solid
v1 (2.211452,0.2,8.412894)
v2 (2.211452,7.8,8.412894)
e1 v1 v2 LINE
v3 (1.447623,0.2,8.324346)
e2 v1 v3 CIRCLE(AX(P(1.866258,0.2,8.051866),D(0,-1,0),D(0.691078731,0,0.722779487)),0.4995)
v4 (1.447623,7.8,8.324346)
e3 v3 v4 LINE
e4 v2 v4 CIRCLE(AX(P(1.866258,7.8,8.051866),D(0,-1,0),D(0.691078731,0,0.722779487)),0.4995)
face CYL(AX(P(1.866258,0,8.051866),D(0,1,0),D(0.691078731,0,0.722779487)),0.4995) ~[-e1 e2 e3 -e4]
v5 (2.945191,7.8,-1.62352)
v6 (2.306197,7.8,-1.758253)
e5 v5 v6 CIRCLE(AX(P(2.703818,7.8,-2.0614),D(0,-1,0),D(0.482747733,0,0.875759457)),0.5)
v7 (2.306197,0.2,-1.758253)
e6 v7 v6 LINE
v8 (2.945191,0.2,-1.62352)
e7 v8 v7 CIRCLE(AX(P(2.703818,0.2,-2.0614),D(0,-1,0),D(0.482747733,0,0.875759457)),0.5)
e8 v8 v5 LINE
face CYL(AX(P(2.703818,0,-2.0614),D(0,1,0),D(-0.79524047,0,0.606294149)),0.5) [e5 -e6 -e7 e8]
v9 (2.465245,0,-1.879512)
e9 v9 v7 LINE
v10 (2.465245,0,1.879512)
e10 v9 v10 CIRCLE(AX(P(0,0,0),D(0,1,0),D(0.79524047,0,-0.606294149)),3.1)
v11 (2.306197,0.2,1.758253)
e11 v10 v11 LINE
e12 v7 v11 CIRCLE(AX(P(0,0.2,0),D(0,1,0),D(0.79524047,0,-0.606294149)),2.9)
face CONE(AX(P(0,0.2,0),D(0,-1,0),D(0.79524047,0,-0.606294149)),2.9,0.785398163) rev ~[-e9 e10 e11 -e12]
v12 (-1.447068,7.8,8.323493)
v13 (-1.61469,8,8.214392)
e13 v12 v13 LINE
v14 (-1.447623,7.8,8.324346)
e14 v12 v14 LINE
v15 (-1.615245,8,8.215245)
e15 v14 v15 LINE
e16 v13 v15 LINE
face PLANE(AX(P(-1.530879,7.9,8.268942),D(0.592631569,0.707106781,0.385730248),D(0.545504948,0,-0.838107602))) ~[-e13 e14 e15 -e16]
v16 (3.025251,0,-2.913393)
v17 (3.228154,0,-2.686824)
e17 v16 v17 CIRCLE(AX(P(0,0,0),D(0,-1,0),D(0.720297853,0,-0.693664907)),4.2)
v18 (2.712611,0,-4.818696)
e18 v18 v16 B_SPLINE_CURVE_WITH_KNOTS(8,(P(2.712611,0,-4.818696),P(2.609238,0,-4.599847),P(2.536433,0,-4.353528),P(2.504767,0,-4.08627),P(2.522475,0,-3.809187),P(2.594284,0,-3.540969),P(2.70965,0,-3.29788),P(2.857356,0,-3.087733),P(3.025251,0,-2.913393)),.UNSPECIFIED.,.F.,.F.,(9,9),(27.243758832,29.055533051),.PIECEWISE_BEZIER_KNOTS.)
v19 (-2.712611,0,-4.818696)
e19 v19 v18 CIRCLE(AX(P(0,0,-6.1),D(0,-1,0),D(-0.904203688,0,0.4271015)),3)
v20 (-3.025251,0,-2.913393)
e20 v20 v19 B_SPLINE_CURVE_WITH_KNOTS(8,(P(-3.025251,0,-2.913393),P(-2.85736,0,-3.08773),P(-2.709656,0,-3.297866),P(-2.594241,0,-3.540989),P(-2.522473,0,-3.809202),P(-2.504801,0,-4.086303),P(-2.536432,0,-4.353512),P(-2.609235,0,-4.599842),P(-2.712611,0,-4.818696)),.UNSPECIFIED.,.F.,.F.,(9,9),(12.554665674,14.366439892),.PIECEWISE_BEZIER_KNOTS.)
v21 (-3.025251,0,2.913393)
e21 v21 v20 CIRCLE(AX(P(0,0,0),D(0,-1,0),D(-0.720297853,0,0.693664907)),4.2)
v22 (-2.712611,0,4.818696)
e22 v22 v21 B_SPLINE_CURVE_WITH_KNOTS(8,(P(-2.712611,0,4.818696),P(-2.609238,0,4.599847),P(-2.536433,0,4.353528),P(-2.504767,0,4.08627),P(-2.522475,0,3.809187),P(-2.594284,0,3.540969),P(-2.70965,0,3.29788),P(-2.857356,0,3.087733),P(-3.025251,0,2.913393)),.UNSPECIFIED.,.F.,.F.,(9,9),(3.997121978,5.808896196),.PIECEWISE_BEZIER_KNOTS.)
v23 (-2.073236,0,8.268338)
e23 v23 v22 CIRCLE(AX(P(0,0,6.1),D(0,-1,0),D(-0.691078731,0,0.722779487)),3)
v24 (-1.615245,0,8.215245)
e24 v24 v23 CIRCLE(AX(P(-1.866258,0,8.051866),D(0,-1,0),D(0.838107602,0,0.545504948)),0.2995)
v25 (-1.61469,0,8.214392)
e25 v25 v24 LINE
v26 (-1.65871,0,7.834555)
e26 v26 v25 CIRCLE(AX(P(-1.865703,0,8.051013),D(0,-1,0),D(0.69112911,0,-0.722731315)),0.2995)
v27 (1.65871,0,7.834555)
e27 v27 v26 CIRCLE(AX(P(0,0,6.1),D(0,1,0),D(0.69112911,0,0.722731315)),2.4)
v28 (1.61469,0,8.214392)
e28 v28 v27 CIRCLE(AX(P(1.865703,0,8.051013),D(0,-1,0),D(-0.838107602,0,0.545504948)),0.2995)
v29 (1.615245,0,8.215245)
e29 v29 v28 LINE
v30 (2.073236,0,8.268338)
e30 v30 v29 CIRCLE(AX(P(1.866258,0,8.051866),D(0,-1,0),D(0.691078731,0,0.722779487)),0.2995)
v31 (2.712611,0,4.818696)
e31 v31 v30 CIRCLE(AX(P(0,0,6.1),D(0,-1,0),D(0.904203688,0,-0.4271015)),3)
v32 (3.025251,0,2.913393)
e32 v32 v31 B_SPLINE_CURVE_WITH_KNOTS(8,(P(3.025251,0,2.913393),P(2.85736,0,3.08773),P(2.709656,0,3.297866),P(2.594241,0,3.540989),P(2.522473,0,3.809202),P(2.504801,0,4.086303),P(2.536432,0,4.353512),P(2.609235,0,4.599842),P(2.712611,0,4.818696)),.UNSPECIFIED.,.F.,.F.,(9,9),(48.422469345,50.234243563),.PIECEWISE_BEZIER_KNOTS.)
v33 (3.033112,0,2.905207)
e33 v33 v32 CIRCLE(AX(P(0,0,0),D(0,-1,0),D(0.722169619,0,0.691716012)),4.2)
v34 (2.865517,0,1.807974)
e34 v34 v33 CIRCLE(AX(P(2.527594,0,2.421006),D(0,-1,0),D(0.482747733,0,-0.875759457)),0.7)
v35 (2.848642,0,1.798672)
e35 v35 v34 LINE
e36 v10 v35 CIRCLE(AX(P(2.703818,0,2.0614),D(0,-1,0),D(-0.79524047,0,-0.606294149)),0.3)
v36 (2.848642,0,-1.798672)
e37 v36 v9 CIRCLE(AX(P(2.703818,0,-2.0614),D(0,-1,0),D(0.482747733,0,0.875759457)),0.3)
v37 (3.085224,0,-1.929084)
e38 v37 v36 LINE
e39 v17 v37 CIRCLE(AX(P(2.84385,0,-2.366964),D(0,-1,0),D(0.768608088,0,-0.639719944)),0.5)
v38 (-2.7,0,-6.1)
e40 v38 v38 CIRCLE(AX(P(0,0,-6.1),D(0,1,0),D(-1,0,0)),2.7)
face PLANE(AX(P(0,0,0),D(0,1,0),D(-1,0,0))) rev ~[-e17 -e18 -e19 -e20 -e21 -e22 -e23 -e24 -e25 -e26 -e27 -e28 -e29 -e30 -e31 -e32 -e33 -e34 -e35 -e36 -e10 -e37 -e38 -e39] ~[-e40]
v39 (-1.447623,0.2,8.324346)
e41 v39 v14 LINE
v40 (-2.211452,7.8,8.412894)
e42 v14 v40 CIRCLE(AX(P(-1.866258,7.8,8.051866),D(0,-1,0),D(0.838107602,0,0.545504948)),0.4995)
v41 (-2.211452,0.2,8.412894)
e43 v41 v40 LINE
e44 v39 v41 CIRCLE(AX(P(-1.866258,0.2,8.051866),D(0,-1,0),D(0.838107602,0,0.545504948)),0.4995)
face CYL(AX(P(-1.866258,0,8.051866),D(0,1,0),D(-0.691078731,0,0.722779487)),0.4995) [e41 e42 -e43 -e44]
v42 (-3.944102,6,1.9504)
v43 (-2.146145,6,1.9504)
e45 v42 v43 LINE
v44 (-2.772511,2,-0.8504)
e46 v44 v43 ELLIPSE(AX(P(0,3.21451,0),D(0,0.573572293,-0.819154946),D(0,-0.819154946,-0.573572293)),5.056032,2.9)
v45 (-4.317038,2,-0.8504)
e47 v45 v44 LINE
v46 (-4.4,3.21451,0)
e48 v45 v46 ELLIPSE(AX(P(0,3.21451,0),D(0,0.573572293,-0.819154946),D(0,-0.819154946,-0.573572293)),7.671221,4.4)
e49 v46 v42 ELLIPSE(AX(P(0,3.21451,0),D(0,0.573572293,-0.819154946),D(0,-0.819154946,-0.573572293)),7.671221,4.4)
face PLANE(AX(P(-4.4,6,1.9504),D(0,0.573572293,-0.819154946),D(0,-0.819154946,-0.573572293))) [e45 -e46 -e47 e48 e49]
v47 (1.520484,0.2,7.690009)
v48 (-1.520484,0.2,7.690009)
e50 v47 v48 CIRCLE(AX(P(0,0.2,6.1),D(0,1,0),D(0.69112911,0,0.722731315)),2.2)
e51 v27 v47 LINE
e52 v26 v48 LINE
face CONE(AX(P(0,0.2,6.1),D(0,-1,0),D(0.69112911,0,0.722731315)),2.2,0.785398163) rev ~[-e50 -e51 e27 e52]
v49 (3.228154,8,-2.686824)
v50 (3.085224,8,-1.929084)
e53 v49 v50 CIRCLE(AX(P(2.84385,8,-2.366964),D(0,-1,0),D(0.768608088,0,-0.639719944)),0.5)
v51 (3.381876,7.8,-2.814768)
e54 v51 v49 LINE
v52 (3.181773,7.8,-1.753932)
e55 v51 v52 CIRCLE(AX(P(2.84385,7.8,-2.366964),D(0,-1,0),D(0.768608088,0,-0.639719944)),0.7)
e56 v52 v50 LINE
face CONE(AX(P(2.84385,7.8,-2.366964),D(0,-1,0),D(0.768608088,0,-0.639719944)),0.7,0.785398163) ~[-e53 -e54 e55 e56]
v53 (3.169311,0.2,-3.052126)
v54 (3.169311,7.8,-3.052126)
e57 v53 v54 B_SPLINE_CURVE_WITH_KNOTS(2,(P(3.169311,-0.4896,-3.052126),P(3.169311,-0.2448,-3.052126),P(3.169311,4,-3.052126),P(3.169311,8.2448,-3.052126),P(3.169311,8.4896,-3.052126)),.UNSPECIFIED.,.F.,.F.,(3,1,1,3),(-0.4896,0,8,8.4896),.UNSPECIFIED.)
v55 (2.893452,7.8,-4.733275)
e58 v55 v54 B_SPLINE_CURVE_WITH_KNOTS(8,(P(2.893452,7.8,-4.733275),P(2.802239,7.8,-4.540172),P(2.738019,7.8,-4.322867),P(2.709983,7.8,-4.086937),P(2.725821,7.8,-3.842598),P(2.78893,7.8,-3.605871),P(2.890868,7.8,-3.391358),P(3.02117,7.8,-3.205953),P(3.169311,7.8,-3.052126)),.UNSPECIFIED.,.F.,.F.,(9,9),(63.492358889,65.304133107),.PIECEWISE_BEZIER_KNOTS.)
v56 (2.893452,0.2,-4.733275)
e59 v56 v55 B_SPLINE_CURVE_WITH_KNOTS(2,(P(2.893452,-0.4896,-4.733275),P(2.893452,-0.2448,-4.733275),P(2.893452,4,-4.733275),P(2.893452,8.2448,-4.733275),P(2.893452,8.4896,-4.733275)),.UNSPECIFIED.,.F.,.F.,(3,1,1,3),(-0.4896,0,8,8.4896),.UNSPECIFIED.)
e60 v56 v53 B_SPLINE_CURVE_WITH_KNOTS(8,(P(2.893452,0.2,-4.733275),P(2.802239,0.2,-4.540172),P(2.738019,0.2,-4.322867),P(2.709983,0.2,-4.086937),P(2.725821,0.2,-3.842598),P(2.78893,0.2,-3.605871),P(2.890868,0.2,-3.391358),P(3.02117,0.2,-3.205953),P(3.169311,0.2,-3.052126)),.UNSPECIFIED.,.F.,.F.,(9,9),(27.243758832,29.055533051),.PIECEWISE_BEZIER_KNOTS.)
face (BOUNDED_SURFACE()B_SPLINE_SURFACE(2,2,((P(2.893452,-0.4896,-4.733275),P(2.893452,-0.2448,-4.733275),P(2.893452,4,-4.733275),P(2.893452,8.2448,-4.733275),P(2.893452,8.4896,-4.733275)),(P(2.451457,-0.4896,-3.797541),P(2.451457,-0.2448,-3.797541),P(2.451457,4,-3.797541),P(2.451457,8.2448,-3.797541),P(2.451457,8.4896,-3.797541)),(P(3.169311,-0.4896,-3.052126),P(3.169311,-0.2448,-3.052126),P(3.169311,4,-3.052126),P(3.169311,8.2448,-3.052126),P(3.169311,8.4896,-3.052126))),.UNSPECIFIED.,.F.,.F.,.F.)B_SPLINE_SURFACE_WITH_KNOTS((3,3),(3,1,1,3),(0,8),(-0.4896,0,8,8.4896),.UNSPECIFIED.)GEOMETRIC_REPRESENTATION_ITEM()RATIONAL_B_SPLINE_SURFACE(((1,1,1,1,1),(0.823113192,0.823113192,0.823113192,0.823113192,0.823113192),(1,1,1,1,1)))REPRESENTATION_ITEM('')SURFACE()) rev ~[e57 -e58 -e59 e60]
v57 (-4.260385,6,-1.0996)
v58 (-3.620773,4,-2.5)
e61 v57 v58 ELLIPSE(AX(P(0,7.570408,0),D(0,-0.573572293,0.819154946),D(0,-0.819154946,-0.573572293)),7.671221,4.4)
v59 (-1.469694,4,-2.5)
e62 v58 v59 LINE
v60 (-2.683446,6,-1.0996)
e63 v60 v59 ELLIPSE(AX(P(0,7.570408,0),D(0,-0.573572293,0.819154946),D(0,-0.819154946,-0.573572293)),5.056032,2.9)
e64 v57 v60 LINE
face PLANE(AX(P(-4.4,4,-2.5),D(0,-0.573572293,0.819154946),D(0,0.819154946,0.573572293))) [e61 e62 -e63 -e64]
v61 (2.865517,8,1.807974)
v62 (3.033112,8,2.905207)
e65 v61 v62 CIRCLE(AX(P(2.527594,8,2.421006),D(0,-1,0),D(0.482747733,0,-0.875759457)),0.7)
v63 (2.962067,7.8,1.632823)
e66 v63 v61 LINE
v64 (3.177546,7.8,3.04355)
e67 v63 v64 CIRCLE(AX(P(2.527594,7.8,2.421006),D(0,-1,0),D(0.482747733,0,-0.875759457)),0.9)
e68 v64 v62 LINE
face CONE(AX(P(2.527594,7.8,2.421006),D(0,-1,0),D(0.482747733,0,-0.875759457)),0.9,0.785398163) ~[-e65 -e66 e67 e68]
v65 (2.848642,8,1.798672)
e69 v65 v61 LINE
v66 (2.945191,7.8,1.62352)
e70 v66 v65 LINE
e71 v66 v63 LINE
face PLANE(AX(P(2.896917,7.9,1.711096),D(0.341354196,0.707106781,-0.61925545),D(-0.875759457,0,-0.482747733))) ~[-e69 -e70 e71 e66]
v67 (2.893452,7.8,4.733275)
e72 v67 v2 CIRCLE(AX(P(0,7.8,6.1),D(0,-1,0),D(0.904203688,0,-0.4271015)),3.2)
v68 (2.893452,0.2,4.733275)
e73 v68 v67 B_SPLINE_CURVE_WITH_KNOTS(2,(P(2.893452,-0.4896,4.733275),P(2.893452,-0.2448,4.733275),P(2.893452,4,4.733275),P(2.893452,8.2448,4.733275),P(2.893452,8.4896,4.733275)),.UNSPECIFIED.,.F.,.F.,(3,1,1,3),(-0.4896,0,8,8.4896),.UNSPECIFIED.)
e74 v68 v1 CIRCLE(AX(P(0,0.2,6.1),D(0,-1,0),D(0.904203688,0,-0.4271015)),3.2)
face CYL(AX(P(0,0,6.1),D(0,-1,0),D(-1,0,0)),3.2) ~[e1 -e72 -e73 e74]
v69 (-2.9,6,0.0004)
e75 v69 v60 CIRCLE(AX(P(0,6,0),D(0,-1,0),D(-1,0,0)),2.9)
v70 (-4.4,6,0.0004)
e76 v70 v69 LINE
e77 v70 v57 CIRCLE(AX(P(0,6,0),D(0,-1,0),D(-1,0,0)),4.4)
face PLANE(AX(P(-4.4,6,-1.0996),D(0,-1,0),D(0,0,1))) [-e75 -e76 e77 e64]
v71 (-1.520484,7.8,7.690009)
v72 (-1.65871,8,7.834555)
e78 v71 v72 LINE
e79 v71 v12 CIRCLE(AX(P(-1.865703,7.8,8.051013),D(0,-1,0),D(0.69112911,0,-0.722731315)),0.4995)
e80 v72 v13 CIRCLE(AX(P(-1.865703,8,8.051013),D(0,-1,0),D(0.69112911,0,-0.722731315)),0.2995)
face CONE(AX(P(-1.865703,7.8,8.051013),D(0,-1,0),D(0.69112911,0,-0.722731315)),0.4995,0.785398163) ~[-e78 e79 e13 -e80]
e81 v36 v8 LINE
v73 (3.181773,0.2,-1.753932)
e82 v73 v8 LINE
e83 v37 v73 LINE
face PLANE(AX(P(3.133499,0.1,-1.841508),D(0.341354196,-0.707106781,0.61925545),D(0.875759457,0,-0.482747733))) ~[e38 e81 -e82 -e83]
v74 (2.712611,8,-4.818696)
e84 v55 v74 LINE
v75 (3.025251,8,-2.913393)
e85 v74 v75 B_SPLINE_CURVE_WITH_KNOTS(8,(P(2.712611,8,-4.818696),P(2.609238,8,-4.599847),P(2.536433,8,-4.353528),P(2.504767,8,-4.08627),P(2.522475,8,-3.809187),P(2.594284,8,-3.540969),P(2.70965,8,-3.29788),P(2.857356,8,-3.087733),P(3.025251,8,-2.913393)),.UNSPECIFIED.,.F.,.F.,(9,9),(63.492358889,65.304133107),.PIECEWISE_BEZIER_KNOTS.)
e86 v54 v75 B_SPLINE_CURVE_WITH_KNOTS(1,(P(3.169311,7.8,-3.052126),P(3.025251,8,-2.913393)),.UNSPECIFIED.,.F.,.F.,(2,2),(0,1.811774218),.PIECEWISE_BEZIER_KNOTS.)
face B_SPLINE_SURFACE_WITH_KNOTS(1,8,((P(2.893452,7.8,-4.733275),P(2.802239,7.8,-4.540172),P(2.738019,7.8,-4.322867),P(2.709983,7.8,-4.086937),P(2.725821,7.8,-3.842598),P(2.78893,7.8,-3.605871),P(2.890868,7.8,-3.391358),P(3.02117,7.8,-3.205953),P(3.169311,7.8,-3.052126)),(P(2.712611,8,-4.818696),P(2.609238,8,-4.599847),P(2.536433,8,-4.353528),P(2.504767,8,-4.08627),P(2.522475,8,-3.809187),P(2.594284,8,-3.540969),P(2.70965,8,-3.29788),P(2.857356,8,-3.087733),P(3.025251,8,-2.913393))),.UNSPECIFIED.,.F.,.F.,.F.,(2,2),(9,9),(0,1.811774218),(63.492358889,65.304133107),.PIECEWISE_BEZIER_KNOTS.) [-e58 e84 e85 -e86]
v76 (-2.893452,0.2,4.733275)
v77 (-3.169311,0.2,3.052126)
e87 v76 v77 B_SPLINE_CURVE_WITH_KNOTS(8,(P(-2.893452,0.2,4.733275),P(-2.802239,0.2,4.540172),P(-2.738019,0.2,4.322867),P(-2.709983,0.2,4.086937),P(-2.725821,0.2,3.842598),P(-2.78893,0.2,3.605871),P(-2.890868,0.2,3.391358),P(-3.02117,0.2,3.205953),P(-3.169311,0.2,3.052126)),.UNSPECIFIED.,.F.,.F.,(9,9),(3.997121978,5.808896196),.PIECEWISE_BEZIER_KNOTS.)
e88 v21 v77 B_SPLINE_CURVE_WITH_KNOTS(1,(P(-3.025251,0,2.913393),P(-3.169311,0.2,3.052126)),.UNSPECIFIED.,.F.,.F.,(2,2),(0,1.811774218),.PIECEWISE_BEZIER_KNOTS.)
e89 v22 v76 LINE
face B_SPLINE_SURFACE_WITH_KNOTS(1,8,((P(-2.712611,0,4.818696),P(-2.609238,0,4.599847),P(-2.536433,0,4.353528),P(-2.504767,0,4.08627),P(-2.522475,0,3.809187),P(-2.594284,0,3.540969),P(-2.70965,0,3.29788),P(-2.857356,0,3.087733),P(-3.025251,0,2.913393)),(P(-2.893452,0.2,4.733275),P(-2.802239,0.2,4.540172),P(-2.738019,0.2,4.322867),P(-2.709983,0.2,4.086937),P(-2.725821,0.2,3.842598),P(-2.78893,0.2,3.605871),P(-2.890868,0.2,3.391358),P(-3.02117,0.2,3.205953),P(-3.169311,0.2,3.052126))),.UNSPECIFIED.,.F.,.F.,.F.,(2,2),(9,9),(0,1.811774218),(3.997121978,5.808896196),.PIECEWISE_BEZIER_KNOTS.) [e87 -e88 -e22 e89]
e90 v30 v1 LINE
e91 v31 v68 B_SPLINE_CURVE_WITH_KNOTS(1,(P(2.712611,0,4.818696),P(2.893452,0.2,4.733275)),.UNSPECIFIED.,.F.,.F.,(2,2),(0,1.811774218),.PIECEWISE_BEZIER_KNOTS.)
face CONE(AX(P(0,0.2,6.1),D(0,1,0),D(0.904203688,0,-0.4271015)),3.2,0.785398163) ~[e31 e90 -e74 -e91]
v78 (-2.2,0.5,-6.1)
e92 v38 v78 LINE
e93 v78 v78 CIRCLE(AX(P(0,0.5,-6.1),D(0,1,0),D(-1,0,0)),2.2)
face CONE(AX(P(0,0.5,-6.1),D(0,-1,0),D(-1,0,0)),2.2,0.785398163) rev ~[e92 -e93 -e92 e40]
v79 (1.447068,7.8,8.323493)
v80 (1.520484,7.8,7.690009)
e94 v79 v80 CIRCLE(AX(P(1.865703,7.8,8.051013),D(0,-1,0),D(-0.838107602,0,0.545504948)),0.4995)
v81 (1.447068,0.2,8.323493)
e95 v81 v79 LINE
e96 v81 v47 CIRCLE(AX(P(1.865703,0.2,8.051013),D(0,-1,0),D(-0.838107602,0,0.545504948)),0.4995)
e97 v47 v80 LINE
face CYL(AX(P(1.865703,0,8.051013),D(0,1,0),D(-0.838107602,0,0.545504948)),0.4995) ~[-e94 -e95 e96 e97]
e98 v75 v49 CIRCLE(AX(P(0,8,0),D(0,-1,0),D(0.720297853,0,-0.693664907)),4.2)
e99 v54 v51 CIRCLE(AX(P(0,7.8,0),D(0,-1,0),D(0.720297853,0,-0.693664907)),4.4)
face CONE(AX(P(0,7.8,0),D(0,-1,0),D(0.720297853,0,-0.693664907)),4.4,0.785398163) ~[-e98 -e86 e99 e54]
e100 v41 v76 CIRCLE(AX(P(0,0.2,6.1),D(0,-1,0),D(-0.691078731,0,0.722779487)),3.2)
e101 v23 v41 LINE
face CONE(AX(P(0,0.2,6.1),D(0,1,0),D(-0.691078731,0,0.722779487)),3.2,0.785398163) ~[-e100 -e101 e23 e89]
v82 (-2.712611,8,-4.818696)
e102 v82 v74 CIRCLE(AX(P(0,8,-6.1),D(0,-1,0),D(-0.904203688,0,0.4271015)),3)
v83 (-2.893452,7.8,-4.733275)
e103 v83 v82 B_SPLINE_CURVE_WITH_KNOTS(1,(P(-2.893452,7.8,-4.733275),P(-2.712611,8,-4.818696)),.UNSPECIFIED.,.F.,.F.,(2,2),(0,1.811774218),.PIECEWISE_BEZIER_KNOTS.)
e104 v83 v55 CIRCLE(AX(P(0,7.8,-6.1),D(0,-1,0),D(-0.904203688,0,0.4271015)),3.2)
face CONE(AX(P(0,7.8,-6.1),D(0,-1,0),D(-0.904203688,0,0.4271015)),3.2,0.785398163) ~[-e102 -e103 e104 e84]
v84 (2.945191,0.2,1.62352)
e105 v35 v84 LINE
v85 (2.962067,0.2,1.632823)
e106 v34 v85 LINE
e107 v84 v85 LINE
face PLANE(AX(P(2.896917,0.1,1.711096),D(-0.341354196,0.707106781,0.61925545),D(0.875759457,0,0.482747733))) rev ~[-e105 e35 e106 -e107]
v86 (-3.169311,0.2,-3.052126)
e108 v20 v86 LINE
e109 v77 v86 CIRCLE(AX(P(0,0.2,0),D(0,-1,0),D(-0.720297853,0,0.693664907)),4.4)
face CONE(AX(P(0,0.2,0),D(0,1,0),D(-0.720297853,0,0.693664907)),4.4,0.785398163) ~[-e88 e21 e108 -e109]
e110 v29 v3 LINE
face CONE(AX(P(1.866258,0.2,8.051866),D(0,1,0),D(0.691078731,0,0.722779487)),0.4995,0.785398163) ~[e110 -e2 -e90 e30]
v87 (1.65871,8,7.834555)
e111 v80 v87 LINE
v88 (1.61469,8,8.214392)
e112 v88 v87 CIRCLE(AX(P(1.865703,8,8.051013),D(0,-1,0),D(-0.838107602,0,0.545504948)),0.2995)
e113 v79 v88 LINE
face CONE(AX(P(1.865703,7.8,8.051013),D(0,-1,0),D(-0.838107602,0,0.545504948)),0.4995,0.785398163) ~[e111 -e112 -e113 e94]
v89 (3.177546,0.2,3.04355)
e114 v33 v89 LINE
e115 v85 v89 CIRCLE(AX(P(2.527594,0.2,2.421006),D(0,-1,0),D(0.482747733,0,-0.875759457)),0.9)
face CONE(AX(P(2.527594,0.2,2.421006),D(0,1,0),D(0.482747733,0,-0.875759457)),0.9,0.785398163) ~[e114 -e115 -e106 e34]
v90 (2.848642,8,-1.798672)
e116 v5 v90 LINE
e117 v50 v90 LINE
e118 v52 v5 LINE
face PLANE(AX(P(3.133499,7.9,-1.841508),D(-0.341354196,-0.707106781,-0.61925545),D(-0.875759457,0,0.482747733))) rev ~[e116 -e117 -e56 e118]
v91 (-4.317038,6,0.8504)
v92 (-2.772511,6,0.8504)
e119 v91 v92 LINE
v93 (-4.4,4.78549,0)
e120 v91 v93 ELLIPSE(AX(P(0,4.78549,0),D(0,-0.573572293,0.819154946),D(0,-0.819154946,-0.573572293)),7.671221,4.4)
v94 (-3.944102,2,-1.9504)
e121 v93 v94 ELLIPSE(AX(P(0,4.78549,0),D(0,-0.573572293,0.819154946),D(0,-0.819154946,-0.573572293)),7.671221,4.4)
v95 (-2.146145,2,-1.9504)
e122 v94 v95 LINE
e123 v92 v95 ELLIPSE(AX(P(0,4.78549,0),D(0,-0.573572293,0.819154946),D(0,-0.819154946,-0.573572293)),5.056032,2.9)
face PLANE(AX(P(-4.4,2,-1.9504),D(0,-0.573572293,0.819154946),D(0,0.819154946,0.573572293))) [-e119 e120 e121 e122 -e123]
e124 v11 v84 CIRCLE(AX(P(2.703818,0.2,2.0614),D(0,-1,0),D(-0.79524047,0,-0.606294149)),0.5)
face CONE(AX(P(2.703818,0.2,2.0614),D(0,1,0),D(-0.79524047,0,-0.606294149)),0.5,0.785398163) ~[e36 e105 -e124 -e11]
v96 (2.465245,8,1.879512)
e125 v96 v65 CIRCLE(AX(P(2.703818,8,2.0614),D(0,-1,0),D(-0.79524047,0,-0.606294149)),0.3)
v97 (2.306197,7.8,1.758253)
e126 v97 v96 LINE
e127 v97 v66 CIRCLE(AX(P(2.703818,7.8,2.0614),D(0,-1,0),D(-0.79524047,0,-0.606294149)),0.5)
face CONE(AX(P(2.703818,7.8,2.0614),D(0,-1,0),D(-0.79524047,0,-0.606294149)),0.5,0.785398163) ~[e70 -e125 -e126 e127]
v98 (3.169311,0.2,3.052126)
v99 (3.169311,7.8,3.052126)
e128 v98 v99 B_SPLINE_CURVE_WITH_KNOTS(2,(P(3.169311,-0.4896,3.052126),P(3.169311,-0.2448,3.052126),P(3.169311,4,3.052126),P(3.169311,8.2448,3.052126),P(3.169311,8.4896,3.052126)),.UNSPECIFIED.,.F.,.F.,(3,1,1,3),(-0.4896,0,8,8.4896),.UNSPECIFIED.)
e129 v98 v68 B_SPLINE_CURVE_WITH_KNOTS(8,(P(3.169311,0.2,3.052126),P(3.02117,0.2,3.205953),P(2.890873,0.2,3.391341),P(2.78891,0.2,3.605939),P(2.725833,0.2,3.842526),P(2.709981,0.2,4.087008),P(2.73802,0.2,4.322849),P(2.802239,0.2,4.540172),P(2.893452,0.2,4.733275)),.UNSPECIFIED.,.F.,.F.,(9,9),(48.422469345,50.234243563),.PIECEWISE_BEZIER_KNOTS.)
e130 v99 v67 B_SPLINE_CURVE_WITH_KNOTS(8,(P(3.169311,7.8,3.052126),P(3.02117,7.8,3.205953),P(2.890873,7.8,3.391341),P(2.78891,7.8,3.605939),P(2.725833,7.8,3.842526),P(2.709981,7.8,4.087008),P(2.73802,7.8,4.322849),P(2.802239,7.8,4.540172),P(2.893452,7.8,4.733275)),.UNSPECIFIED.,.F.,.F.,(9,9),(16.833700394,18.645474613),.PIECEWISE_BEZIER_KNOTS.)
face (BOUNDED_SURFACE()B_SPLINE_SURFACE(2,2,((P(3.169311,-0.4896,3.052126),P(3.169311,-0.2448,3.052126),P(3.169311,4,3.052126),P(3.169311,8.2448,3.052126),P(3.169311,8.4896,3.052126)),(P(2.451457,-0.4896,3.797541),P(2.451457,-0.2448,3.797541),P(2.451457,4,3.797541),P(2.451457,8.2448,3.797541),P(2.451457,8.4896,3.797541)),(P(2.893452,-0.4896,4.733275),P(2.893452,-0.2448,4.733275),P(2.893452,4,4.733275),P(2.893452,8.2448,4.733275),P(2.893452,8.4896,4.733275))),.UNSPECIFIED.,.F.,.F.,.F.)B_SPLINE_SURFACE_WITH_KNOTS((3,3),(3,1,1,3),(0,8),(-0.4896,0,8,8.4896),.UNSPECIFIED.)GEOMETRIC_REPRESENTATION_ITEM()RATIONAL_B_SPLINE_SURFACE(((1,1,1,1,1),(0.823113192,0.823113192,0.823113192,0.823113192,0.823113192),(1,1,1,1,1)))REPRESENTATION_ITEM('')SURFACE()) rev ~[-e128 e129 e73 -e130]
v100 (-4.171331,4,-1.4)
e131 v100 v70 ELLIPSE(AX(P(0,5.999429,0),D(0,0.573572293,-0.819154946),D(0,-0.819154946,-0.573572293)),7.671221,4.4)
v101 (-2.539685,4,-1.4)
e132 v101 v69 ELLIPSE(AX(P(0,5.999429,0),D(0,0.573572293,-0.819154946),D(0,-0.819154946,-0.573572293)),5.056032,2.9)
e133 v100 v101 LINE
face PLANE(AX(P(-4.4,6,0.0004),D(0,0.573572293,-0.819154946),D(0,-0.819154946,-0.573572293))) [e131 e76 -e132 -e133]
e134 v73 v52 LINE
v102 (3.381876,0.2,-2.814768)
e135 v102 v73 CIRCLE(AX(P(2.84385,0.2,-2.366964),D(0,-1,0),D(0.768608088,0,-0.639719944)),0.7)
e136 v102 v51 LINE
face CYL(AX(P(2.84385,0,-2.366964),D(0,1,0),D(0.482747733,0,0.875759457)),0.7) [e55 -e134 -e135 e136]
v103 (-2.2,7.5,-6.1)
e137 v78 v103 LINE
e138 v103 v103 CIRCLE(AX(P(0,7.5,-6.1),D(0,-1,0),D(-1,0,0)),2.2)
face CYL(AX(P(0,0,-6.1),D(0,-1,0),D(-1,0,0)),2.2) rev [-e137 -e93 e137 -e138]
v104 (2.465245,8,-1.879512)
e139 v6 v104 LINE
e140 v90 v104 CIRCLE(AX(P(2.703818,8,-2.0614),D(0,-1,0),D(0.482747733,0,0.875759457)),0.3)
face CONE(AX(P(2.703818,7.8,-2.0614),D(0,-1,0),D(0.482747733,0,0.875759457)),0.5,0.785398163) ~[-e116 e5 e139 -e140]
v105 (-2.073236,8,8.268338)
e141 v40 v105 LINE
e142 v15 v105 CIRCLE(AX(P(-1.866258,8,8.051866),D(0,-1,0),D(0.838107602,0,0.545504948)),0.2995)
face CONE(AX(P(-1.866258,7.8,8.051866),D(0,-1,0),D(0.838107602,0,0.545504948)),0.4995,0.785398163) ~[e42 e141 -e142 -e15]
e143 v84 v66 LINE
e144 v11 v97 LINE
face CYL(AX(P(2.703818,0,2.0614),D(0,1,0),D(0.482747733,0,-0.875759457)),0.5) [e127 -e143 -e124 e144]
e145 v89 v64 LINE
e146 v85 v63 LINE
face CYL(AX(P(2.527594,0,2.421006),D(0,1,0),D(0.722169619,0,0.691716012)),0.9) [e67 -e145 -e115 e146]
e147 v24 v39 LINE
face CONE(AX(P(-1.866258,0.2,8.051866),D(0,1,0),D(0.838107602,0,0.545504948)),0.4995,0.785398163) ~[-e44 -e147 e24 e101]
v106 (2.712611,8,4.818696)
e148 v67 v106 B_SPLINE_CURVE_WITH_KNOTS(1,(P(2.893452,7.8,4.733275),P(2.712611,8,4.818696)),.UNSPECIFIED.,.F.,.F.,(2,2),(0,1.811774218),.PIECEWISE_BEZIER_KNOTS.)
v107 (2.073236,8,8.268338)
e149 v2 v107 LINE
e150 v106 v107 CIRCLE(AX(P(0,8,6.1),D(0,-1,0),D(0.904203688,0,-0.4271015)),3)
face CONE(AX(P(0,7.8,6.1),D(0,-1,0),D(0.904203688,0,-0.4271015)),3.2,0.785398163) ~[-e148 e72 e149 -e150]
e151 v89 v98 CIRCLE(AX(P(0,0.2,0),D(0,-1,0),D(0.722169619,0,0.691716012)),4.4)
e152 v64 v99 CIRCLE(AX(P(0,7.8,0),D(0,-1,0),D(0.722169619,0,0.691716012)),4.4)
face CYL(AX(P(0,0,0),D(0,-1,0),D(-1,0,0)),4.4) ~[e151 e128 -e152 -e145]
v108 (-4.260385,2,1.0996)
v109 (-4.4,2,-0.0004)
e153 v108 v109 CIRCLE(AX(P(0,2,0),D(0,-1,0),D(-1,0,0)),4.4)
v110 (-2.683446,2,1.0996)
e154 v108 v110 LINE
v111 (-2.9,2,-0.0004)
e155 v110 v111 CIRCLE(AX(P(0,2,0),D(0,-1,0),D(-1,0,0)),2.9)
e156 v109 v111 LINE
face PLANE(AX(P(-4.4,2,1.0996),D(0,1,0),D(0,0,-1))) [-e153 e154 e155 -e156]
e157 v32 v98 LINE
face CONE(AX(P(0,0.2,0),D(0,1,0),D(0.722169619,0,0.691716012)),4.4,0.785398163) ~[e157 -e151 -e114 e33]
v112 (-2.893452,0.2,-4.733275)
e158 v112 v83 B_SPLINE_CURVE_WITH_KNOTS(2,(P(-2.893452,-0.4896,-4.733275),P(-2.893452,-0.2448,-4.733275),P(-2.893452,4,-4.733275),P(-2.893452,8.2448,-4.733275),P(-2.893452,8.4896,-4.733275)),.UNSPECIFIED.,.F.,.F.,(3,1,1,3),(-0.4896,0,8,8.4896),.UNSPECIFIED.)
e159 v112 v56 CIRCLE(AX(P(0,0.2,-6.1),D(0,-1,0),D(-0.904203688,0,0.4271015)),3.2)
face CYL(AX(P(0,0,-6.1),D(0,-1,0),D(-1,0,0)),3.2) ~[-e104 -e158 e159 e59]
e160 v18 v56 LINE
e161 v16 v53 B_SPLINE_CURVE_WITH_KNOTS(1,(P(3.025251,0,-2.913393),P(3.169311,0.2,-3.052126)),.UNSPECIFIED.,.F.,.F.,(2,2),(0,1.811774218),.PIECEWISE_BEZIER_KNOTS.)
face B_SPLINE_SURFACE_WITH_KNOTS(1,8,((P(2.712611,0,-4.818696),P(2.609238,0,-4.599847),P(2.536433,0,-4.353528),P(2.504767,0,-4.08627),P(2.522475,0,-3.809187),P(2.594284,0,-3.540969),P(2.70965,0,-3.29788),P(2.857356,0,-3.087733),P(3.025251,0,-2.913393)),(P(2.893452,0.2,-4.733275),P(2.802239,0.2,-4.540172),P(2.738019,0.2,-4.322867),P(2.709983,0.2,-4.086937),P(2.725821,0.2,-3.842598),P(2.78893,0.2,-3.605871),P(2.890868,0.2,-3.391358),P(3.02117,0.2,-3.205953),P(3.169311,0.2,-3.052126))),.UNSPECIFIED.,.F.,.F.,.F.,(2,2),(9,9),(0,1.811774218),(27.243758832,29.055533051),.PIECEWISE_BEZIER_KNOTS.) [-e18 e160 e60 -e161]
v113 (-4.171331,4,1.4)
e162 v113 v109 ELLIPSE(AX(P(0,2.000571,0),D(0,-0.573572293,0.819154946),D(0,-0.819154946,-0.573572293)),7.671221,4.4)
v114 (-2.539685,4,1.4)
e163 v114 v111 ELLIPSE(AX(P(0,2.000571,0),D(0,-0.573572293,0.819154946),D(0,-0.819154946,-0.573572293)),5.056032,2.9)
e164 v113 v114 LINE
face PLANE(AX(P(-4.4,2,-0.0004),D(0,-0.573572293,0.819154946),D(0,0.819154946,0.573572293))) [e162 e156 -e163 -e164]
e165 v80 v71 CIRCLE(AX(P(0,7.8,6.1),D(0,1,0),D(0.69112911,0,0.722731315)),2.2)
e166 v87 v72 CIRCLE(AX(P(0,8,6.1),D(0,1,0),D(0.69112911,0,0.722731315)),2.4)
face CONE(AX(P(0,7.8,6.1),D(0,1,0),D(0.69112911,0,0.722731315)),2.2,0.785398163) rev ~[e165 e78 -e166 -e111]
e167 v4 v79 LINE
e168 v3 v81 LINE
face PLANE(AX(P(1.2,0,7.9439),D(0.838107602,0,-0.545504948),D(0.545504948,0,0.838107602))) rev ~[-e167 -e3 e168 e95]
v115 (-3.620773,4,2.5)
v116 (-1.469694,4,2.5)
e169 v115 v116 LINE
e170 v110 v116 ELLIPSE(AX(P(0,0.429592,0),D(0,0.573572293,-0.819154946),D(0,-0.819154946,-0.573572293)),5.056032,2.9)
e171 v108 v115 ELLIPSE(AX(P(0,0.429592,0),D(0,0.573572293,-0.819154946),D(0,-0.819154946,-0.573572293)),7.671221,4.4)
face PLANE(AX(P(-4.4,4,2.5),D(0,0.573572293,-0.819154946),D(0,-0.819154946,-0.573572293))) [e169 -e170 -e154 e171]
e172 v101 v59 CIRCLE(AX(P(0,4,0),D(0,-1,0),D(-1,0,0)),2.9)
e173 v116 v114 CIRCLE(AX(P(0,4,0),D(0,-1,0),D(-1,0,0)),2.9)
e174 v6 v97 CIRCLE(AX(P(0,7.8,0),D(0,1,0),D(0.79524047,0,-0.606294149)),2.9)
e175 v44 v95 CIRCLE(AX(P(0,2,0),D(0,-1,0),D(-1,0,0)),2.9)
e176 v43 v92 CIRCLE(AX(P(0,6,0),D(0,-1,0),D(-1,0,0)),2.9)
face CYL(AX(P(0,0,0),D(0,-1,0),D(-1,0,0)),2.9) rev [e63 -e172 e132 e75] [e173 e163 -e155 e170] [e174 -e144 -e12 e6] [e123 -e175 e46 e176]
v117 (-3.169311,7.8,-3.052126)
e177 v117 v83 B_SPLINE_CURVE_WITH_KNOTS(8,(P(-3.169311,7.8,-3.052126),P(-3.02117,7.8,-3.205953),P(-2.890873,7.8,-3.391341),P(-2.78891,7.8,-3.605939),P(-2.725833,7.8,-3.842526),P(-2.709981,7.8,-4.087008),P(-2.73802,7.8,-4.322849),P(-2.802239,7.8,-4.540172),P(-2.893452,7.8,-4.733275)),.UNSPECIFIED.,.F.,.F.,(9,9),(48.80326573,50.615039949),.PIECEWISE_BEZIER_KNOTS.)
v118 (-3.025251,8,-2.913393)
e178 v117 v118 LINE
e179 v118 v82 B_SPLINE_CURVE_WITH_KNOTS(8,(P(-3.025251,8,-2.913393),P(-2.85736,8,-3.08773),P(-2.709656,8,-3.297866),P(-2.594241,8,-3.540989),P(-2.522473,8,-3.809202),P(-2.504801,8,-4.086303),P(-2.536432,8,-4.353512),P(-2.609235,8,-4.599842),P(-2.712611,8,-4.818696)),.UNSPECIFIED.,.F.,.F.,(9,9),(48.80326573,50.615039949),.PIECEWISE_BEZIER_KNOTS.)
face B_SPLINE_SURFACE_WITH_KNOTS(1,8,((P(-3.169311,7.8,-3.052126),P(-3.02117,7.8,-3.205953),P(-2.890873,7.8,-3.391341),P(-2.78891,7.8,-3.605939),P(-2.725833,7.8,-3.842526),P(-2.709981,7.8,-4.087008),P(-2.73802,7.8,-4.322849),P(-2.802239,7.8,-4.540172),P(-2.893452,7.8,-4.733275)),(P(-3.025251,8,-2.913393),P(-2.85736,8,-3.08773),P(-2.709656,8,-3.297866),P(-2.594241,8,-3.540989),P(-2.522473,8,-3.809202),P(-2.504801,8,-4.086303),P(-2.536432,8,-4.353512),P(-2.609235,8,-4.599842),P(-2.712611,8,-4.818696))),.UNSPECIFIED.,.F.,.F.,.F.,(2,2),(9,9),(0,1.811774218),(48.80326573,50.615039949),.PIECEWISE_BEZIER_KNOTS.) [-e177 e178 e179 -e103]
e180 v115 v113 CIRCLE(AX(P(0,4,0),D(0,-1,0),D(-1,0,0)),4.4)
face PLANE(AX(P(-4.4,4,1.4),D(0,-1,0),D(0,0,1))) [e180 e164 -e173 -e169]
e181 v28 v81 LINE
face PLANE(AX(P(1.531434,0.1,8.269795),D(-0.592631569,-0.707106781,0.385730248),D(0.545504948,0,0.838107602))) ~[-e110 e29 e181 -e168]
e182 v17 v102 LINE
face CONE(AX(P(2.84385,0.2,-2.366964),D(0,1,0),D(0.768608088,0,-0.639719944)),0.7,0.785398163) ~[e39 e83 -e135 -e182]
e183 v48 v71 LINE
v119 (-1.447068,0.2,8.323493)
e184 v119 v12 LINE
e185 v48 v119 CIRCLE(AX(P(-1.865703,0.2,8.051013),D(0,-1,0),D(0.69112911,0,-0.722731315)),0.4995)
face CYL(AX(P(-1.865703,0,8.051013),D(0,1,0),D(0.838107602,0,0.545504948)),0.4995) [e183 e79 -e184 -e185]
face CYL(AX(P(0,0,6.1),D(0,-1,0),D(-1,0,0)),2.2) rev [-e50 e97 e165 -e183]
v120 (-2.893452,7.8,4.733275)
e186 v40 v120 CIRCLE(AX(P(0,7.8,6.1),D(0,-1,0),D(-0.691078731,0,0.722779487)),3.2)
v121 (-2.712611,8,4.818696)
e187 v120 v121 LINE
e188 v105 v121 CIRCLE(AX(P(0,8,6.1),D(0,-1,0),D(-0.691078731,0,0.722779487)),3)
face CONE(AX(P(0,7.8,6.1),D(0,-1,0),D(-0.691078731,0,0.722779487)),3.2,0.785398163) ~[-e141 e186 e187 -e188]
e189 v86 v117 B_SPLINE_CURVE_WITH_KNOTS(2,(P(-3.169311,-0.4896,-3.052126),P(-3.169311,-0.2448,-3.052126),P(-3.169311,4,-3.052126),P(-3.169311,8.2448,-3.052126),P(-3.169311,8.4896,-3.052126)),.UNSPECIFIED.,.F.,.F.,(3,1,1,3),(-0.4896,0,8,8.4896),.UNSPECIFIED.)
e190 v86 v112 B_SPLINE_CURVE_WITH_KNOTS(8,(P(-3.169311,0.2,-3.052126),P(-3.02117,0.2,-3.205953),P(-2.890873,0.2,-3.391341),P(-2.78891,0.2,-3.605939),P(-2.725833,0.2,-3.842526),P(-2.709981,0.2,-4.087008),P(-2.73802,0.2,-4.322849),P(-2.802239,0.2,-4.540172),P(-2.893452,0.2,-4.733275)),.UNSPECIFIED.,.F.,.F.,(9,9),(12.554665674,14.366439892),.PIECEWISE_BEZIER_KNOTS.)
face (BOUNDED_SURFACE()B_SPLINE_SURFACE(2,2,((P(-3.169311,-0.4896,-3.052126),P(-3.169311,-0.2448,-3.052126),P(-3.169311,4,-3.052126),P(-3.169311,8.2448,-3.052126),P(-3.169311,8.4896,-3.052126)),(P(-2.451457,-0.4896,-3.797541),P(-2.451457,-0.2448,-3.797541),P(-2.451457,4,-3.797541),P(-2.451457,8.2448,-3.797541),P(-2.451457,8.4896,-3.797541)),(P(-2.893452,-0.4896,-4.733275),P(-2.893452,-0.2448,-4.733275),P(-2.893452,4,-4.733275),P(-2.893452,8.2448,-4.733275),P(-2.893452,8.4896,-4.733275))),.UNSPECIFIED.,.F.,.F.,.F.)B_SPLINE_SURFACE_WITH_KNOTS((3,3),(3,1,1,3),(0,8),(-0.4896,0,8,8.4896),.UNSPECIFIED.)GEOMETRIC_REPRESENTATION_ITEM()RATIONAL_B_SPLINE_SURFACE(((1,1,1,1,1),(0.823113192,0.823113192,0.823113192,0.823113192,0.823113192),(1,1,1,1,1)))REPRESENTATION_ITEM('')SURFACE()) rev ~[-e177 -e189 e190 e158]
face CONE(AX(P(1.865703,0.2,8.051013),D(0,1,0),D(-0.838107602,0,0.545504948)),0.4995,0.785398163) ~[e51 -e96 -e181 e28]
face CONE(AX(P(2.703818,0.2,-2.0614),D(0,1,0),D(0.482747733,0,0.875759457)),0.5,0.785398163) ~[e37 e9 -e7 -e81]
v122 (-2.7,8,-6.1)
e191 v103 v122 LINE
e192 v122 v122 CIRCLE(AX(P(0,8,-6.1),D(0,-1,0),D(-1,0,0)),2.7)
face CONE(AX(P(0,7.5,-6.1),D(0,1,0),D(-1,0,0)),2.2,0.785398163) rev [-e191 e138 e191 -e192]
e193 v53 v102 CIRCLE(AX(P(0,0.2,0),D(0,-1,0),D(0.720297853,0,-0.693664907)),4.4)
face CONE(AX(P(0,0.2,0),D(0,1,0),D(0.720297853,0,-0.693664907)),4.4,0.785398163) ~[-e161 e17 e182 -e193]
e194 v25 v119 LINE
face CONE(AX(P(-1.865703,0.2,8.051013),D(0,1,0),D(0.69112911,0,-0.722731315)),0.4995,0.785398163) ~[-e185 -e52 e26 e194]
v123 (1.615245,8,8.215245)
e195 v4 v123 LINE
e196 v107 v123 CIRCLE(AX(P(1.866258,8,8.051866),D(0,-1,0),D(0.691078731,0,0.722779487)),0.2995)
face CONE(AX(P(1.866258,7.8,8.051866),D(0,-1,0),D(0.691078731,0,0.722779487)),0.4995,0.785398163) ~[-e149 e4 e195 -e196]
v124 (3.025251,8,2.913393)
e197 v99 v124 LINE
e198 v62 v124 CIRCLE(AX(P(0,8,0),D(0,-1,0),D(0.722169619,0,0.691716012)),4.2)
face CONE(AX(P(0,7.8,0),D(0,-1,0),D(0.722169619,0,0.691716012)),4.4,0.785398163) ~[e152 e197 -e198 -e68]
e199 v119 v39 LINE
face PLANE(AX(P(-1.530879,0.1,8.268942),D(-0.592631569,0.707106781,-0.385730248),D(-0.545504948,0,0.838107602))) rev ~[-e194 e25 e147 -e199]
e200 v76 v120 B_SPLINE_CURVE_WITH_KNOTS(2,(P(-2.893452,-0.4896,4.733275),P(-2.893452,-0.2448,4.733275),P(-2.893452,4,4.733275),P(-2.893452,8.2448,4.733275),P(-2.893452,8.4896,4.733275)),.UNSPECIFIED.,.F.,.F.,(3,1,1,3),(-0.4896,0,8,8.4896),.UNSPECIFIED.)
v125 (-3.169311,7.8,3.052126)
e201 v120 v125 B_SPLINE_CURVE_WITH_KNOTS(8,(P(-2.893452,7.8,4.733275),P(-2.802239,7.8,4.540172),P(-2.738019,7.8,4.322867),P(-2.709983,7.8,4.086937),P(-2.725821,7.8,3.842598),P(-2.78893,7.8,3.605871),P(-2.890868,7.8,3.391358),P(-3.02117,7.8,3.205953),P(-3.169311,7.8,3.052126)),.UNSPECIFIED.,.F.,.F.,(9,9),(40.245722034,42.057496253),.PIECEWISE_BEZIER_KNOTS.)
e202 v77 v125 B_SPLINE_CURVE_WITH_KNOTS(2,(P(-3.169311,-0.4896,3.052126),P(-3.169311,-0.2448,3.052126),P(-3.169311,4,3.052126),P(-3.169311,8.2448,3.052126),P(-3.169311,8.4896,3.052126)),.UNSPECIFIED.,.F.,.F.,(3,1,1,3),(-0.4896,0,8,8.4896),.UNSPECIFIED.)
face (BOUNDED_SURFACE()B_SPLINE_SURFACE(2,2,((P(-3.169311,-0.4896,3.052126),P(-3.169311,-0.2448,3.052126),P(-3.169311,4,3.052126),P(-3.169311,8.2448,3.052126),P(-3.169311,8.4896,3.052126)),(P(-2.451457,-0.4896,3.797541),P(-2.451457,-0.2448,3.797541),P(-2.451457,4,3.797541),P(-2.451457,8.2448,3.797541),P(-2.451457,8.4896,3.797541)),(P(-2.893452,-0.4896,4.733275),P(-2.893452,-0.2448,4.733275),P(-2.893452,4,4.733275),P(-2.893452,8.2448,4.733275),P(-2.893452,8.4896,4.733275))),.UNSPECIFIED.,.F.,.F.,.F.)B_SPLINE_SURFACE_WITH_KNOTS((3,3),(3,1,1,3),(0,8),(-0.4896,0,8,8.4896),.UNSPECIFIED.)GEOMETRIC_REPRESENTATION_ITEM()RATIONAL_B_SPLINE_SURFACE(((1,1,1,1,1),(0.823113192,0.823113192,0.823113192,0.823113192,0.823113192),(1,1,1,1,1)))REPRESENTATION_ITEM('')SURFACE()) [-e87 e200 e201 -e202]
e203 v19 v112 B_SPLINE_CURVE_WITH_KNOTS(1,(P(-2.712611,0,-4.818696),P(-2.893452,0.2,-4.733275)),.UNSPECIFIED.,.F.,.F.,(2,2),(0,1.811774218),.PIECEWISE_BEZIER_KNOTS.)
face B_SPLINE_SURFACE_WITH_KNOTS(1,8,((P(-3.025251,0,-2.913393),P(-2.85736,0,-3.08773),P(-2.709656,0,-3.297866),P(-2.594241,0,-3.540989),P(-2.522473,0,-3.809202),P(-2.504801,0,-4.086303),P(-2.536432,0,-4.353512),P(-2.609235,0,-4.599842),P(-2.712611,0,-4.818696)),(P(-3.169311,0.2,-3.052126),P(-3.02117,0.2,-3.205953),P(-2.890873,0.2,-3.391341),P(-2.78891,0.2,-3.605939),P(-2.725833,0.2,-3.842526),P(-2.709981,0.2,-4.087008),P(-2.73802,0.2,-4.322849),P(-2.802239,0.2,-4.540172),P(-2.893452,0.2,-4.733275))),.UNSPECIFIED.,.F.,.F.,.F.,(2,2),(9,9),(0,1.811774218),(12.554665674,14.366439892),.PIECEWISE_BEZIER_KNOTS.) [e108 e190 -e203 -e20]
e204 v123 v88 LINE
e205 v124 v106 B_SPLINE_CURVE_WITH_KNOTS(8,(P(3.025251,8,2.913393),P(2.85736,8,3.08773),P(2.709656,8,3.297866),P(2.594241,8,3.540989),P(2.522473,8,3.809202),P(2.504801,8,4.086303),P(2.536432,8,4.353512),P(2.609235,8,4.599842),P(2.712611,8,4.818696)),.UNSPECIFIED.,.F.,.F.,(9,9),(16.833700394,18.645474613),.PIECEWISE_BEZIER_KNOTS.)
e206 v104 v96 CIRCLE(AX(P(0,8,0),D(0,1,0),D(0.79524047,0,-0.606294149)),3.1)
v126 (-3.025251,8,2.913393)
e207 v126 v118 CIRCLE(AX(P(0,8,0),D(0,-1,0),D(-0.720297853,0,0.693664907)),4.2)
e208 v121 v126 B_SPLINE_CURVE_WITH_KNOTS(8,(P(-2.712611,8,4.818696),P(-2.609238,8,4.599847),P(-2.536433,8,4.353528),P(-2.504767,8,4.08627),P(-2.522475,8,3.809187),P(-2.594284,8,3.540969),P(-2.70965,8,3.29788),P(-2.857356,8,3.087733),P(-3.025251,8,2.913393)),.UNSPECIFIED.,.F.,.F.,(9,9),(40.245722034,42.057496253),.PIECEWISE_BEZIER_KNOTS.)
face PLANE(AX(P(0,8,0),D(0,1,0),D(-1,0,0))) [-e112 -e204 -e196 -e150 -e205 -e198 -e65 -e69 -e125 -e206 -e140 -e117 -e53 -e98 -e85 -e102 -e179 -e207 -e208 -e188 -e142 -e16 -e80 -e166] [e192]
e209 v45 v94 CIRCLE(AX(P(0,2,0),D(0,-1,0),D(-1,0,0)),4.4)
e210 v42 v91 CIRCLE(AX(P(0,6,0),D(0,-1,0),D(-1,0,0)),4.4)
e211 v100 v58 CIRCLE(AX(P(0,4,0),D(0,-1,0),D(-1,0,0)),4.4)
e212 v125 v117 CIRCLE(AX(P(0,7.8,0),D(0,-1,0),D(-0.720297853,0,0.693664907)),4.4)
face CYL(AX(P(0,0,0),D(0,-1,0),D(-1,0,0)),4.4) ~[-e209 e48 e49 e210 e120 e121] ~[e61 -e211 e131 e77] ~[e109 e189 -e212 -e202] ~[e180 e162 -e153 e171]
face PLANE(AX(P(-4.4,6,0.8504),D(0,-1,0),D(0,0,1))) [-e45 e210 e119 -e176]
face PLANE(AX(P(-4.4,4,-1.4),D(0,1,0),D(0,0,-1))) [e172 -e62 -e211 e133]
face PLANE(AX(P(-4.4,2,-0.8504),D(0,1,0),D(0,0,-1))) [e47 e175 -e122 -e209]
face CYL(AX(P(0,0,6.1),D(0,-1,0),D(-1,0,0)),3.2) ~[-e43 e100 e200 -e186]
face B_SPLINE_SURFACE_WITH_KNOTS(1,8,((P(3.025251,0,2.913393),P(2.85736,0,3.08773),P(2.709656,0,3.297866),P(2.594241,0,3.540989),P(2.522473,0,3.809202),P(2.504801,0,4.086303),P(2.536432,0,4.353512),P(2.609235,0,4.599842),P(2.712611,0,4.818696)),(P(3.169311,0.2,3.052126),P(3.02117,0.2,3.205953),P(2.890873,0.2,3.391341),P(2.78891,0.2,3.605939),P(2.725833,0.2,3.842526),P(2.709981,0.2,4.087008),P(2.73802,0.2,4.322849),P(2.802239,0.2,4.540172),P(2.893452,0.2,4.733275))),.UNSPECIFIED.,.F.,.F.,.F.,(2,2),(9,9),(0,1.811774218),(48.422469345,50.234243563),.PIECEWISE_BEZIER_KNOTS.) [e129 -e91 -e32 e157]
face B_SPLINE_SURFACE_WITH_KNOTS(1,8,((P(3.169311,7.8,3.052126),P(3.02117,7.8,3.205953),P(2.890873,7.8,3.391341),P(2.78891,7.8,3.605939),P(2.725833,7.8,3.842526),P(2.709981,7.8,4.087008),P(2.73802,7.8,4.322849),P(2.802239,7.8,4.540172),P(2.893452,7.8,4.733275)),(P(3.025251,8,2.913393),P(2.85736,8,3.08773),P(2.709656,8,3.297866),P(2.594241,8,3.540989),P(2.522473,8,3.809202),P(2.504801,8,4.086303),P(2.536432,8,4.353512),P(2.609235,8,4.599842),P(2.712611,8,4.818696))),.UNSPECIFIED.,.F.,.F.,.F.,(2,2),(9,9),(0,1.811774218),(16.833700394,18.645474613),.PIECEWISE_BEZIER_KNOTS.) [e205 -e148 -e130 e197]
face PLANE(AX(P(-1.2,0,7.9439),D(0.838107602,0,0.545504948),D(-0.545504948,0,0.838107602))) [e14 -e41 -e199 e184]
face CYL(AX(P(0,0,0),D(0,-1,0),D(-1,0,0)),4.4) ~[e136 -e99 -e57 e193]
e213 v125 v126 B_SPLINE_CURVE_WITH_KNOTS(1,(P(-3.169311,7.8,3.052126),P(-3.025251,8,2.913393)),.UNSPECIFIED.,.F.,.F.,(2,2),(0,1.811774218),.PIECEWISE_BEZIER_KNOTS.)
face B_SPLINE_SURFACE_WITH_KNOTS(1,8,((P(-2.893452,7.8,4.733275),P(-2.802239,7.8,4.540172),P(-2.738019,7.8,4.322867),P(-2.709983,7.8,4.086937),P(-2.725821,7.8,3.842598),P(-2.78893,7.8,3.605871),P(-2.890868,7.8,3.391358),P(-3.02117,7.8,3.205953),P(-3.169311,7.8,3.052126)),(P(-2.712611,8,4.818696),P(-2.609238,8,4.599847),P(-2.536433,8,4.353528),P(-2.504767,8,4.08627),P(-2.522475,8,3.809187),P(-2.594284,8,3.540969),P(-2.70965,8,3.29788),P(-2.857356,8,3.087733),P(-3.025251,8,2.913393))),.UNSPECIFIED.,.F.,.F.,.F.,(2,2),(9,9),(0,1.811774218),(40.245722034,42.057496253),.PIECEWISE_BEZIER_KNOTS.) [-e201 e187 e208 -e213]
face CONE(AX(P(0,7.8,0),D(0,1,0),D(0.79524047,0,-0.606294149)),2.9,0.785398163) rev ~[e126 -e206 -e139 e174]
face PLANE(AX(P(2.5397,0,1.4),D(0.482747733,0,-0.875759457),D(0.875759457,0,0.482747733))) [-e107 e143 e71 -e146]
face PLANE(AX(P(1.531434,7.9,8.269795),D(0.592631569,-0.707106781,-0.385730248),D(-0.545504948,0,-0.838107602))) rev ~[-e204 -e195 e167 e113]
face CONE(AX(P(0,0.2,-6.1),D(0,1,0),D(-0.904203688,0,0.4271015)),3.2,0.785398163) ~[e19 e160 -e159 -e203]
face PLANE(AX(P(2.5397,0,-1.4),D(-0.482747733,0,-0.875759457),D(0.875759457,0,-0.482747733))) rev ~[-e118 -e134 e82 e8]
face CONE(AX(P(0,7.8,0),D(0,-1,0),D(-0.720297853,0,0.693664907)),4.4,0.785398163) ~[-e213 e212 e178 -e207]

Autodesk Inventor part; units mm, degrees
ref_plane "XZ Plane" through (0, 0, 0) normal (0, 1, 0) x (-1, 0, 0)
ref_plane "XY Plane" through (0, 0, 0) normal (0, 0, 1) x (1, 0, 0)
sketch "Sketch1" plane through (0, 0, 0) normal (0, 1, 0) x (-1, 0, 0)
  circle A0 centre (0, 0) radius 2.9
  circle A1 centre (0, -6.1) radius 2.2
  circle A2 centre (0, 6.1) radius 2.2
  circle A3 centre (0, 0) radius 4.4
  circle A4 centre (0, -6.1) radius 3.2
  circle A5 centre (0, 6.1) radius 3.2
  line L0 (-2.5397, -1.4) -> (-3.8533, -2.1241)
  line L1 (-2.5397, 1.4) -> (-3.8533, 2.1241)
  line L2 (1.2, 7.9439) -> (1.7455, 8.782)
  line L3 (-1.2, 7.9439) -> (-1.7455, 8.782)
  point P0 (-2.2223, -3.7975)
  point P1 (2.2223, -3.7975)
  point P2 (2.2223, 3.7975)
  point P3 (-2.2223, 3.7975)
  dimension "d0" = 5.8
  dimension "d1" = 4.4
  dimension "d2" = 4.4
  dimension "d3" = 6.1
  dimension "d4" = 6.1
  dimension "d5" = 1.5
  dimension "d6" = 1
  dimension "d7" = 1
  dimension "d10" = 2.8
  dimension "d11" = 1.4
  dimension "d13" = 2.4
  dimension "d14" = 1.2
extrude "Extrusion1" add sketch "Sketch1" along normal blind 8 contours L1 A3 A5 A0 | A0 A4 A3 L0 | A5 A3 A4 A0 | A5 A3 A2 | A4 A3 A1 | A5 L3 A2 A3 | A3 A2 L2 A5 | A4 A3 A1
fillet "Fillet1" radius 1.5 4 edges at (2.2223, 4, -3.7975) (-2.2223, 4, -3.7975) (-2.2223, 4, 3.7975) (2.2223, 4, 3.7975)
fillet "Fillet2" radius 0.9 1 edges at (3.8533, 4, 2.1241)
fillet "Fillet3" radius 0.5 2 edges at (2.5397, 4, -1.4) (2.5397, 4, 1.4)
fillet "Fillet4" radius 0.7 1 edges at (3.8533, 4, -2.1241)
fillet "Fillet5" radius 0.5 4 edges at (-1.2, 4, 7.9439) (1.2, 4, 7.9439) (-1.7455, 4, 8.782) (1.7455, 4, 8.782)
ref_plane "Work Plane1" through (-4.4, 0, 0) normal (1, 0, 0) x (0, 1, 0)
sketch "Sketch2" plane through (-4.4, 0, 0) normal (1, 0, 0) x (0, 1, 0)
  line L0 (6, -1.0996) -> (6, 0.0004)
  line L1 (6, 0.0004) -> (4, -1.4)
  line L2 (4, -1.4) -> (4, -2.5)
  line L3 (4, -2.5) -> (6, -1.0996)
  line L4 (6, 0.8504) -> (6, 1.9504)
  line L5 (6, 1.9504) -> (2, -0.8504)
  line L6 (2, -0.8504) -> (2, -1.9504)
  line L7 (2, -1.9504) -> (6, 0.8504)
  line L8 (4, 1.4) -> (4, 2.5)
  line L9 (4, 2.5) -> (2, 1.0996)
  line L10 (2, 1.0996) -> (2, -0.0004)
  line L11 (2, -0.0004) -> (4, 1.4)
  line L12 (2, -0.8504) -> (2, -0.0004) construction
  line L13 (6, 0.0004) -> (6, 0.8504) construction
  line L14 (0, -3.0521) -> (0, 3.0521) construction
  point P0 (0, 0)
  point P1 (0, 0)
  point P2 (0, 0)
  dimension "d19" = 125
  dimension "d20" = 4
  dimension "d21" = 5
  dimension "d22" = 0.85
  dimension "d23" = 2.5
  dimension "d24" = 2
extrude "Extrusion2" cut sketch "Sketch2" along normal up to surface
chamfer "Chamfer1" distance 0.5 angle 45 2 edges at (2.2, 8, -6.1) (2.2, 0, -6.1)
chamfer "Chamfer2" distance 0.2 angle 45 40 edges at (-2.9, 8, 0) (2.6007, 8, -1.5722) (3.0635, 8, -1.6887) (3.5317, 8, -2.2372) (3.2777, 8, -2.9354) (2.7696, 8, -3.8497) (0, 8, -9.3) (-2.7696, 8, -3.8497) (-4.4, 8, 0) (-2.7696, 8, 3.8497) (-3.1464, 8, 6.6832) (-1.3695, 8, 7.9935) (0, 8, 3.9) (1.3695, 8, 7.9935) (3.1464, 8, 6.6832) (2.7696, 8, 3.8497) (3.1734, 8, 3.0478) (3.4173, 8, 2.2851) (2.9536, 8, 1.6282) (2.6007, 8, 1.5722) (-3.1464, 0, 6.6832) (-1.3695, 0, 7.9935) (0, 0, 3.9) (1.3695, 0, 7.9935) (3.1464, 0, 6.6832) (2.7696, 0, 3.8497) (3.1734, 0, 3.0478) (3.4173, 0, 2.2851) (2.9536, 0, 1.6282) (2.6007, 0, 1.5722) (-2.9, 0, 0) (2.6007, 0, -1.5722) (3.0635, 0, -1.6887) (3.5317, 0, -2.2372) (3.2777, 0, -2.9354) (2.7696, 0, -3.8497) (0, 0, -9.3) (-2.7696, 0, -3.8497) (-4.4, 0, 0) (-2.7696, 0, 3.8497)
properties part number "umbilicalClip"
